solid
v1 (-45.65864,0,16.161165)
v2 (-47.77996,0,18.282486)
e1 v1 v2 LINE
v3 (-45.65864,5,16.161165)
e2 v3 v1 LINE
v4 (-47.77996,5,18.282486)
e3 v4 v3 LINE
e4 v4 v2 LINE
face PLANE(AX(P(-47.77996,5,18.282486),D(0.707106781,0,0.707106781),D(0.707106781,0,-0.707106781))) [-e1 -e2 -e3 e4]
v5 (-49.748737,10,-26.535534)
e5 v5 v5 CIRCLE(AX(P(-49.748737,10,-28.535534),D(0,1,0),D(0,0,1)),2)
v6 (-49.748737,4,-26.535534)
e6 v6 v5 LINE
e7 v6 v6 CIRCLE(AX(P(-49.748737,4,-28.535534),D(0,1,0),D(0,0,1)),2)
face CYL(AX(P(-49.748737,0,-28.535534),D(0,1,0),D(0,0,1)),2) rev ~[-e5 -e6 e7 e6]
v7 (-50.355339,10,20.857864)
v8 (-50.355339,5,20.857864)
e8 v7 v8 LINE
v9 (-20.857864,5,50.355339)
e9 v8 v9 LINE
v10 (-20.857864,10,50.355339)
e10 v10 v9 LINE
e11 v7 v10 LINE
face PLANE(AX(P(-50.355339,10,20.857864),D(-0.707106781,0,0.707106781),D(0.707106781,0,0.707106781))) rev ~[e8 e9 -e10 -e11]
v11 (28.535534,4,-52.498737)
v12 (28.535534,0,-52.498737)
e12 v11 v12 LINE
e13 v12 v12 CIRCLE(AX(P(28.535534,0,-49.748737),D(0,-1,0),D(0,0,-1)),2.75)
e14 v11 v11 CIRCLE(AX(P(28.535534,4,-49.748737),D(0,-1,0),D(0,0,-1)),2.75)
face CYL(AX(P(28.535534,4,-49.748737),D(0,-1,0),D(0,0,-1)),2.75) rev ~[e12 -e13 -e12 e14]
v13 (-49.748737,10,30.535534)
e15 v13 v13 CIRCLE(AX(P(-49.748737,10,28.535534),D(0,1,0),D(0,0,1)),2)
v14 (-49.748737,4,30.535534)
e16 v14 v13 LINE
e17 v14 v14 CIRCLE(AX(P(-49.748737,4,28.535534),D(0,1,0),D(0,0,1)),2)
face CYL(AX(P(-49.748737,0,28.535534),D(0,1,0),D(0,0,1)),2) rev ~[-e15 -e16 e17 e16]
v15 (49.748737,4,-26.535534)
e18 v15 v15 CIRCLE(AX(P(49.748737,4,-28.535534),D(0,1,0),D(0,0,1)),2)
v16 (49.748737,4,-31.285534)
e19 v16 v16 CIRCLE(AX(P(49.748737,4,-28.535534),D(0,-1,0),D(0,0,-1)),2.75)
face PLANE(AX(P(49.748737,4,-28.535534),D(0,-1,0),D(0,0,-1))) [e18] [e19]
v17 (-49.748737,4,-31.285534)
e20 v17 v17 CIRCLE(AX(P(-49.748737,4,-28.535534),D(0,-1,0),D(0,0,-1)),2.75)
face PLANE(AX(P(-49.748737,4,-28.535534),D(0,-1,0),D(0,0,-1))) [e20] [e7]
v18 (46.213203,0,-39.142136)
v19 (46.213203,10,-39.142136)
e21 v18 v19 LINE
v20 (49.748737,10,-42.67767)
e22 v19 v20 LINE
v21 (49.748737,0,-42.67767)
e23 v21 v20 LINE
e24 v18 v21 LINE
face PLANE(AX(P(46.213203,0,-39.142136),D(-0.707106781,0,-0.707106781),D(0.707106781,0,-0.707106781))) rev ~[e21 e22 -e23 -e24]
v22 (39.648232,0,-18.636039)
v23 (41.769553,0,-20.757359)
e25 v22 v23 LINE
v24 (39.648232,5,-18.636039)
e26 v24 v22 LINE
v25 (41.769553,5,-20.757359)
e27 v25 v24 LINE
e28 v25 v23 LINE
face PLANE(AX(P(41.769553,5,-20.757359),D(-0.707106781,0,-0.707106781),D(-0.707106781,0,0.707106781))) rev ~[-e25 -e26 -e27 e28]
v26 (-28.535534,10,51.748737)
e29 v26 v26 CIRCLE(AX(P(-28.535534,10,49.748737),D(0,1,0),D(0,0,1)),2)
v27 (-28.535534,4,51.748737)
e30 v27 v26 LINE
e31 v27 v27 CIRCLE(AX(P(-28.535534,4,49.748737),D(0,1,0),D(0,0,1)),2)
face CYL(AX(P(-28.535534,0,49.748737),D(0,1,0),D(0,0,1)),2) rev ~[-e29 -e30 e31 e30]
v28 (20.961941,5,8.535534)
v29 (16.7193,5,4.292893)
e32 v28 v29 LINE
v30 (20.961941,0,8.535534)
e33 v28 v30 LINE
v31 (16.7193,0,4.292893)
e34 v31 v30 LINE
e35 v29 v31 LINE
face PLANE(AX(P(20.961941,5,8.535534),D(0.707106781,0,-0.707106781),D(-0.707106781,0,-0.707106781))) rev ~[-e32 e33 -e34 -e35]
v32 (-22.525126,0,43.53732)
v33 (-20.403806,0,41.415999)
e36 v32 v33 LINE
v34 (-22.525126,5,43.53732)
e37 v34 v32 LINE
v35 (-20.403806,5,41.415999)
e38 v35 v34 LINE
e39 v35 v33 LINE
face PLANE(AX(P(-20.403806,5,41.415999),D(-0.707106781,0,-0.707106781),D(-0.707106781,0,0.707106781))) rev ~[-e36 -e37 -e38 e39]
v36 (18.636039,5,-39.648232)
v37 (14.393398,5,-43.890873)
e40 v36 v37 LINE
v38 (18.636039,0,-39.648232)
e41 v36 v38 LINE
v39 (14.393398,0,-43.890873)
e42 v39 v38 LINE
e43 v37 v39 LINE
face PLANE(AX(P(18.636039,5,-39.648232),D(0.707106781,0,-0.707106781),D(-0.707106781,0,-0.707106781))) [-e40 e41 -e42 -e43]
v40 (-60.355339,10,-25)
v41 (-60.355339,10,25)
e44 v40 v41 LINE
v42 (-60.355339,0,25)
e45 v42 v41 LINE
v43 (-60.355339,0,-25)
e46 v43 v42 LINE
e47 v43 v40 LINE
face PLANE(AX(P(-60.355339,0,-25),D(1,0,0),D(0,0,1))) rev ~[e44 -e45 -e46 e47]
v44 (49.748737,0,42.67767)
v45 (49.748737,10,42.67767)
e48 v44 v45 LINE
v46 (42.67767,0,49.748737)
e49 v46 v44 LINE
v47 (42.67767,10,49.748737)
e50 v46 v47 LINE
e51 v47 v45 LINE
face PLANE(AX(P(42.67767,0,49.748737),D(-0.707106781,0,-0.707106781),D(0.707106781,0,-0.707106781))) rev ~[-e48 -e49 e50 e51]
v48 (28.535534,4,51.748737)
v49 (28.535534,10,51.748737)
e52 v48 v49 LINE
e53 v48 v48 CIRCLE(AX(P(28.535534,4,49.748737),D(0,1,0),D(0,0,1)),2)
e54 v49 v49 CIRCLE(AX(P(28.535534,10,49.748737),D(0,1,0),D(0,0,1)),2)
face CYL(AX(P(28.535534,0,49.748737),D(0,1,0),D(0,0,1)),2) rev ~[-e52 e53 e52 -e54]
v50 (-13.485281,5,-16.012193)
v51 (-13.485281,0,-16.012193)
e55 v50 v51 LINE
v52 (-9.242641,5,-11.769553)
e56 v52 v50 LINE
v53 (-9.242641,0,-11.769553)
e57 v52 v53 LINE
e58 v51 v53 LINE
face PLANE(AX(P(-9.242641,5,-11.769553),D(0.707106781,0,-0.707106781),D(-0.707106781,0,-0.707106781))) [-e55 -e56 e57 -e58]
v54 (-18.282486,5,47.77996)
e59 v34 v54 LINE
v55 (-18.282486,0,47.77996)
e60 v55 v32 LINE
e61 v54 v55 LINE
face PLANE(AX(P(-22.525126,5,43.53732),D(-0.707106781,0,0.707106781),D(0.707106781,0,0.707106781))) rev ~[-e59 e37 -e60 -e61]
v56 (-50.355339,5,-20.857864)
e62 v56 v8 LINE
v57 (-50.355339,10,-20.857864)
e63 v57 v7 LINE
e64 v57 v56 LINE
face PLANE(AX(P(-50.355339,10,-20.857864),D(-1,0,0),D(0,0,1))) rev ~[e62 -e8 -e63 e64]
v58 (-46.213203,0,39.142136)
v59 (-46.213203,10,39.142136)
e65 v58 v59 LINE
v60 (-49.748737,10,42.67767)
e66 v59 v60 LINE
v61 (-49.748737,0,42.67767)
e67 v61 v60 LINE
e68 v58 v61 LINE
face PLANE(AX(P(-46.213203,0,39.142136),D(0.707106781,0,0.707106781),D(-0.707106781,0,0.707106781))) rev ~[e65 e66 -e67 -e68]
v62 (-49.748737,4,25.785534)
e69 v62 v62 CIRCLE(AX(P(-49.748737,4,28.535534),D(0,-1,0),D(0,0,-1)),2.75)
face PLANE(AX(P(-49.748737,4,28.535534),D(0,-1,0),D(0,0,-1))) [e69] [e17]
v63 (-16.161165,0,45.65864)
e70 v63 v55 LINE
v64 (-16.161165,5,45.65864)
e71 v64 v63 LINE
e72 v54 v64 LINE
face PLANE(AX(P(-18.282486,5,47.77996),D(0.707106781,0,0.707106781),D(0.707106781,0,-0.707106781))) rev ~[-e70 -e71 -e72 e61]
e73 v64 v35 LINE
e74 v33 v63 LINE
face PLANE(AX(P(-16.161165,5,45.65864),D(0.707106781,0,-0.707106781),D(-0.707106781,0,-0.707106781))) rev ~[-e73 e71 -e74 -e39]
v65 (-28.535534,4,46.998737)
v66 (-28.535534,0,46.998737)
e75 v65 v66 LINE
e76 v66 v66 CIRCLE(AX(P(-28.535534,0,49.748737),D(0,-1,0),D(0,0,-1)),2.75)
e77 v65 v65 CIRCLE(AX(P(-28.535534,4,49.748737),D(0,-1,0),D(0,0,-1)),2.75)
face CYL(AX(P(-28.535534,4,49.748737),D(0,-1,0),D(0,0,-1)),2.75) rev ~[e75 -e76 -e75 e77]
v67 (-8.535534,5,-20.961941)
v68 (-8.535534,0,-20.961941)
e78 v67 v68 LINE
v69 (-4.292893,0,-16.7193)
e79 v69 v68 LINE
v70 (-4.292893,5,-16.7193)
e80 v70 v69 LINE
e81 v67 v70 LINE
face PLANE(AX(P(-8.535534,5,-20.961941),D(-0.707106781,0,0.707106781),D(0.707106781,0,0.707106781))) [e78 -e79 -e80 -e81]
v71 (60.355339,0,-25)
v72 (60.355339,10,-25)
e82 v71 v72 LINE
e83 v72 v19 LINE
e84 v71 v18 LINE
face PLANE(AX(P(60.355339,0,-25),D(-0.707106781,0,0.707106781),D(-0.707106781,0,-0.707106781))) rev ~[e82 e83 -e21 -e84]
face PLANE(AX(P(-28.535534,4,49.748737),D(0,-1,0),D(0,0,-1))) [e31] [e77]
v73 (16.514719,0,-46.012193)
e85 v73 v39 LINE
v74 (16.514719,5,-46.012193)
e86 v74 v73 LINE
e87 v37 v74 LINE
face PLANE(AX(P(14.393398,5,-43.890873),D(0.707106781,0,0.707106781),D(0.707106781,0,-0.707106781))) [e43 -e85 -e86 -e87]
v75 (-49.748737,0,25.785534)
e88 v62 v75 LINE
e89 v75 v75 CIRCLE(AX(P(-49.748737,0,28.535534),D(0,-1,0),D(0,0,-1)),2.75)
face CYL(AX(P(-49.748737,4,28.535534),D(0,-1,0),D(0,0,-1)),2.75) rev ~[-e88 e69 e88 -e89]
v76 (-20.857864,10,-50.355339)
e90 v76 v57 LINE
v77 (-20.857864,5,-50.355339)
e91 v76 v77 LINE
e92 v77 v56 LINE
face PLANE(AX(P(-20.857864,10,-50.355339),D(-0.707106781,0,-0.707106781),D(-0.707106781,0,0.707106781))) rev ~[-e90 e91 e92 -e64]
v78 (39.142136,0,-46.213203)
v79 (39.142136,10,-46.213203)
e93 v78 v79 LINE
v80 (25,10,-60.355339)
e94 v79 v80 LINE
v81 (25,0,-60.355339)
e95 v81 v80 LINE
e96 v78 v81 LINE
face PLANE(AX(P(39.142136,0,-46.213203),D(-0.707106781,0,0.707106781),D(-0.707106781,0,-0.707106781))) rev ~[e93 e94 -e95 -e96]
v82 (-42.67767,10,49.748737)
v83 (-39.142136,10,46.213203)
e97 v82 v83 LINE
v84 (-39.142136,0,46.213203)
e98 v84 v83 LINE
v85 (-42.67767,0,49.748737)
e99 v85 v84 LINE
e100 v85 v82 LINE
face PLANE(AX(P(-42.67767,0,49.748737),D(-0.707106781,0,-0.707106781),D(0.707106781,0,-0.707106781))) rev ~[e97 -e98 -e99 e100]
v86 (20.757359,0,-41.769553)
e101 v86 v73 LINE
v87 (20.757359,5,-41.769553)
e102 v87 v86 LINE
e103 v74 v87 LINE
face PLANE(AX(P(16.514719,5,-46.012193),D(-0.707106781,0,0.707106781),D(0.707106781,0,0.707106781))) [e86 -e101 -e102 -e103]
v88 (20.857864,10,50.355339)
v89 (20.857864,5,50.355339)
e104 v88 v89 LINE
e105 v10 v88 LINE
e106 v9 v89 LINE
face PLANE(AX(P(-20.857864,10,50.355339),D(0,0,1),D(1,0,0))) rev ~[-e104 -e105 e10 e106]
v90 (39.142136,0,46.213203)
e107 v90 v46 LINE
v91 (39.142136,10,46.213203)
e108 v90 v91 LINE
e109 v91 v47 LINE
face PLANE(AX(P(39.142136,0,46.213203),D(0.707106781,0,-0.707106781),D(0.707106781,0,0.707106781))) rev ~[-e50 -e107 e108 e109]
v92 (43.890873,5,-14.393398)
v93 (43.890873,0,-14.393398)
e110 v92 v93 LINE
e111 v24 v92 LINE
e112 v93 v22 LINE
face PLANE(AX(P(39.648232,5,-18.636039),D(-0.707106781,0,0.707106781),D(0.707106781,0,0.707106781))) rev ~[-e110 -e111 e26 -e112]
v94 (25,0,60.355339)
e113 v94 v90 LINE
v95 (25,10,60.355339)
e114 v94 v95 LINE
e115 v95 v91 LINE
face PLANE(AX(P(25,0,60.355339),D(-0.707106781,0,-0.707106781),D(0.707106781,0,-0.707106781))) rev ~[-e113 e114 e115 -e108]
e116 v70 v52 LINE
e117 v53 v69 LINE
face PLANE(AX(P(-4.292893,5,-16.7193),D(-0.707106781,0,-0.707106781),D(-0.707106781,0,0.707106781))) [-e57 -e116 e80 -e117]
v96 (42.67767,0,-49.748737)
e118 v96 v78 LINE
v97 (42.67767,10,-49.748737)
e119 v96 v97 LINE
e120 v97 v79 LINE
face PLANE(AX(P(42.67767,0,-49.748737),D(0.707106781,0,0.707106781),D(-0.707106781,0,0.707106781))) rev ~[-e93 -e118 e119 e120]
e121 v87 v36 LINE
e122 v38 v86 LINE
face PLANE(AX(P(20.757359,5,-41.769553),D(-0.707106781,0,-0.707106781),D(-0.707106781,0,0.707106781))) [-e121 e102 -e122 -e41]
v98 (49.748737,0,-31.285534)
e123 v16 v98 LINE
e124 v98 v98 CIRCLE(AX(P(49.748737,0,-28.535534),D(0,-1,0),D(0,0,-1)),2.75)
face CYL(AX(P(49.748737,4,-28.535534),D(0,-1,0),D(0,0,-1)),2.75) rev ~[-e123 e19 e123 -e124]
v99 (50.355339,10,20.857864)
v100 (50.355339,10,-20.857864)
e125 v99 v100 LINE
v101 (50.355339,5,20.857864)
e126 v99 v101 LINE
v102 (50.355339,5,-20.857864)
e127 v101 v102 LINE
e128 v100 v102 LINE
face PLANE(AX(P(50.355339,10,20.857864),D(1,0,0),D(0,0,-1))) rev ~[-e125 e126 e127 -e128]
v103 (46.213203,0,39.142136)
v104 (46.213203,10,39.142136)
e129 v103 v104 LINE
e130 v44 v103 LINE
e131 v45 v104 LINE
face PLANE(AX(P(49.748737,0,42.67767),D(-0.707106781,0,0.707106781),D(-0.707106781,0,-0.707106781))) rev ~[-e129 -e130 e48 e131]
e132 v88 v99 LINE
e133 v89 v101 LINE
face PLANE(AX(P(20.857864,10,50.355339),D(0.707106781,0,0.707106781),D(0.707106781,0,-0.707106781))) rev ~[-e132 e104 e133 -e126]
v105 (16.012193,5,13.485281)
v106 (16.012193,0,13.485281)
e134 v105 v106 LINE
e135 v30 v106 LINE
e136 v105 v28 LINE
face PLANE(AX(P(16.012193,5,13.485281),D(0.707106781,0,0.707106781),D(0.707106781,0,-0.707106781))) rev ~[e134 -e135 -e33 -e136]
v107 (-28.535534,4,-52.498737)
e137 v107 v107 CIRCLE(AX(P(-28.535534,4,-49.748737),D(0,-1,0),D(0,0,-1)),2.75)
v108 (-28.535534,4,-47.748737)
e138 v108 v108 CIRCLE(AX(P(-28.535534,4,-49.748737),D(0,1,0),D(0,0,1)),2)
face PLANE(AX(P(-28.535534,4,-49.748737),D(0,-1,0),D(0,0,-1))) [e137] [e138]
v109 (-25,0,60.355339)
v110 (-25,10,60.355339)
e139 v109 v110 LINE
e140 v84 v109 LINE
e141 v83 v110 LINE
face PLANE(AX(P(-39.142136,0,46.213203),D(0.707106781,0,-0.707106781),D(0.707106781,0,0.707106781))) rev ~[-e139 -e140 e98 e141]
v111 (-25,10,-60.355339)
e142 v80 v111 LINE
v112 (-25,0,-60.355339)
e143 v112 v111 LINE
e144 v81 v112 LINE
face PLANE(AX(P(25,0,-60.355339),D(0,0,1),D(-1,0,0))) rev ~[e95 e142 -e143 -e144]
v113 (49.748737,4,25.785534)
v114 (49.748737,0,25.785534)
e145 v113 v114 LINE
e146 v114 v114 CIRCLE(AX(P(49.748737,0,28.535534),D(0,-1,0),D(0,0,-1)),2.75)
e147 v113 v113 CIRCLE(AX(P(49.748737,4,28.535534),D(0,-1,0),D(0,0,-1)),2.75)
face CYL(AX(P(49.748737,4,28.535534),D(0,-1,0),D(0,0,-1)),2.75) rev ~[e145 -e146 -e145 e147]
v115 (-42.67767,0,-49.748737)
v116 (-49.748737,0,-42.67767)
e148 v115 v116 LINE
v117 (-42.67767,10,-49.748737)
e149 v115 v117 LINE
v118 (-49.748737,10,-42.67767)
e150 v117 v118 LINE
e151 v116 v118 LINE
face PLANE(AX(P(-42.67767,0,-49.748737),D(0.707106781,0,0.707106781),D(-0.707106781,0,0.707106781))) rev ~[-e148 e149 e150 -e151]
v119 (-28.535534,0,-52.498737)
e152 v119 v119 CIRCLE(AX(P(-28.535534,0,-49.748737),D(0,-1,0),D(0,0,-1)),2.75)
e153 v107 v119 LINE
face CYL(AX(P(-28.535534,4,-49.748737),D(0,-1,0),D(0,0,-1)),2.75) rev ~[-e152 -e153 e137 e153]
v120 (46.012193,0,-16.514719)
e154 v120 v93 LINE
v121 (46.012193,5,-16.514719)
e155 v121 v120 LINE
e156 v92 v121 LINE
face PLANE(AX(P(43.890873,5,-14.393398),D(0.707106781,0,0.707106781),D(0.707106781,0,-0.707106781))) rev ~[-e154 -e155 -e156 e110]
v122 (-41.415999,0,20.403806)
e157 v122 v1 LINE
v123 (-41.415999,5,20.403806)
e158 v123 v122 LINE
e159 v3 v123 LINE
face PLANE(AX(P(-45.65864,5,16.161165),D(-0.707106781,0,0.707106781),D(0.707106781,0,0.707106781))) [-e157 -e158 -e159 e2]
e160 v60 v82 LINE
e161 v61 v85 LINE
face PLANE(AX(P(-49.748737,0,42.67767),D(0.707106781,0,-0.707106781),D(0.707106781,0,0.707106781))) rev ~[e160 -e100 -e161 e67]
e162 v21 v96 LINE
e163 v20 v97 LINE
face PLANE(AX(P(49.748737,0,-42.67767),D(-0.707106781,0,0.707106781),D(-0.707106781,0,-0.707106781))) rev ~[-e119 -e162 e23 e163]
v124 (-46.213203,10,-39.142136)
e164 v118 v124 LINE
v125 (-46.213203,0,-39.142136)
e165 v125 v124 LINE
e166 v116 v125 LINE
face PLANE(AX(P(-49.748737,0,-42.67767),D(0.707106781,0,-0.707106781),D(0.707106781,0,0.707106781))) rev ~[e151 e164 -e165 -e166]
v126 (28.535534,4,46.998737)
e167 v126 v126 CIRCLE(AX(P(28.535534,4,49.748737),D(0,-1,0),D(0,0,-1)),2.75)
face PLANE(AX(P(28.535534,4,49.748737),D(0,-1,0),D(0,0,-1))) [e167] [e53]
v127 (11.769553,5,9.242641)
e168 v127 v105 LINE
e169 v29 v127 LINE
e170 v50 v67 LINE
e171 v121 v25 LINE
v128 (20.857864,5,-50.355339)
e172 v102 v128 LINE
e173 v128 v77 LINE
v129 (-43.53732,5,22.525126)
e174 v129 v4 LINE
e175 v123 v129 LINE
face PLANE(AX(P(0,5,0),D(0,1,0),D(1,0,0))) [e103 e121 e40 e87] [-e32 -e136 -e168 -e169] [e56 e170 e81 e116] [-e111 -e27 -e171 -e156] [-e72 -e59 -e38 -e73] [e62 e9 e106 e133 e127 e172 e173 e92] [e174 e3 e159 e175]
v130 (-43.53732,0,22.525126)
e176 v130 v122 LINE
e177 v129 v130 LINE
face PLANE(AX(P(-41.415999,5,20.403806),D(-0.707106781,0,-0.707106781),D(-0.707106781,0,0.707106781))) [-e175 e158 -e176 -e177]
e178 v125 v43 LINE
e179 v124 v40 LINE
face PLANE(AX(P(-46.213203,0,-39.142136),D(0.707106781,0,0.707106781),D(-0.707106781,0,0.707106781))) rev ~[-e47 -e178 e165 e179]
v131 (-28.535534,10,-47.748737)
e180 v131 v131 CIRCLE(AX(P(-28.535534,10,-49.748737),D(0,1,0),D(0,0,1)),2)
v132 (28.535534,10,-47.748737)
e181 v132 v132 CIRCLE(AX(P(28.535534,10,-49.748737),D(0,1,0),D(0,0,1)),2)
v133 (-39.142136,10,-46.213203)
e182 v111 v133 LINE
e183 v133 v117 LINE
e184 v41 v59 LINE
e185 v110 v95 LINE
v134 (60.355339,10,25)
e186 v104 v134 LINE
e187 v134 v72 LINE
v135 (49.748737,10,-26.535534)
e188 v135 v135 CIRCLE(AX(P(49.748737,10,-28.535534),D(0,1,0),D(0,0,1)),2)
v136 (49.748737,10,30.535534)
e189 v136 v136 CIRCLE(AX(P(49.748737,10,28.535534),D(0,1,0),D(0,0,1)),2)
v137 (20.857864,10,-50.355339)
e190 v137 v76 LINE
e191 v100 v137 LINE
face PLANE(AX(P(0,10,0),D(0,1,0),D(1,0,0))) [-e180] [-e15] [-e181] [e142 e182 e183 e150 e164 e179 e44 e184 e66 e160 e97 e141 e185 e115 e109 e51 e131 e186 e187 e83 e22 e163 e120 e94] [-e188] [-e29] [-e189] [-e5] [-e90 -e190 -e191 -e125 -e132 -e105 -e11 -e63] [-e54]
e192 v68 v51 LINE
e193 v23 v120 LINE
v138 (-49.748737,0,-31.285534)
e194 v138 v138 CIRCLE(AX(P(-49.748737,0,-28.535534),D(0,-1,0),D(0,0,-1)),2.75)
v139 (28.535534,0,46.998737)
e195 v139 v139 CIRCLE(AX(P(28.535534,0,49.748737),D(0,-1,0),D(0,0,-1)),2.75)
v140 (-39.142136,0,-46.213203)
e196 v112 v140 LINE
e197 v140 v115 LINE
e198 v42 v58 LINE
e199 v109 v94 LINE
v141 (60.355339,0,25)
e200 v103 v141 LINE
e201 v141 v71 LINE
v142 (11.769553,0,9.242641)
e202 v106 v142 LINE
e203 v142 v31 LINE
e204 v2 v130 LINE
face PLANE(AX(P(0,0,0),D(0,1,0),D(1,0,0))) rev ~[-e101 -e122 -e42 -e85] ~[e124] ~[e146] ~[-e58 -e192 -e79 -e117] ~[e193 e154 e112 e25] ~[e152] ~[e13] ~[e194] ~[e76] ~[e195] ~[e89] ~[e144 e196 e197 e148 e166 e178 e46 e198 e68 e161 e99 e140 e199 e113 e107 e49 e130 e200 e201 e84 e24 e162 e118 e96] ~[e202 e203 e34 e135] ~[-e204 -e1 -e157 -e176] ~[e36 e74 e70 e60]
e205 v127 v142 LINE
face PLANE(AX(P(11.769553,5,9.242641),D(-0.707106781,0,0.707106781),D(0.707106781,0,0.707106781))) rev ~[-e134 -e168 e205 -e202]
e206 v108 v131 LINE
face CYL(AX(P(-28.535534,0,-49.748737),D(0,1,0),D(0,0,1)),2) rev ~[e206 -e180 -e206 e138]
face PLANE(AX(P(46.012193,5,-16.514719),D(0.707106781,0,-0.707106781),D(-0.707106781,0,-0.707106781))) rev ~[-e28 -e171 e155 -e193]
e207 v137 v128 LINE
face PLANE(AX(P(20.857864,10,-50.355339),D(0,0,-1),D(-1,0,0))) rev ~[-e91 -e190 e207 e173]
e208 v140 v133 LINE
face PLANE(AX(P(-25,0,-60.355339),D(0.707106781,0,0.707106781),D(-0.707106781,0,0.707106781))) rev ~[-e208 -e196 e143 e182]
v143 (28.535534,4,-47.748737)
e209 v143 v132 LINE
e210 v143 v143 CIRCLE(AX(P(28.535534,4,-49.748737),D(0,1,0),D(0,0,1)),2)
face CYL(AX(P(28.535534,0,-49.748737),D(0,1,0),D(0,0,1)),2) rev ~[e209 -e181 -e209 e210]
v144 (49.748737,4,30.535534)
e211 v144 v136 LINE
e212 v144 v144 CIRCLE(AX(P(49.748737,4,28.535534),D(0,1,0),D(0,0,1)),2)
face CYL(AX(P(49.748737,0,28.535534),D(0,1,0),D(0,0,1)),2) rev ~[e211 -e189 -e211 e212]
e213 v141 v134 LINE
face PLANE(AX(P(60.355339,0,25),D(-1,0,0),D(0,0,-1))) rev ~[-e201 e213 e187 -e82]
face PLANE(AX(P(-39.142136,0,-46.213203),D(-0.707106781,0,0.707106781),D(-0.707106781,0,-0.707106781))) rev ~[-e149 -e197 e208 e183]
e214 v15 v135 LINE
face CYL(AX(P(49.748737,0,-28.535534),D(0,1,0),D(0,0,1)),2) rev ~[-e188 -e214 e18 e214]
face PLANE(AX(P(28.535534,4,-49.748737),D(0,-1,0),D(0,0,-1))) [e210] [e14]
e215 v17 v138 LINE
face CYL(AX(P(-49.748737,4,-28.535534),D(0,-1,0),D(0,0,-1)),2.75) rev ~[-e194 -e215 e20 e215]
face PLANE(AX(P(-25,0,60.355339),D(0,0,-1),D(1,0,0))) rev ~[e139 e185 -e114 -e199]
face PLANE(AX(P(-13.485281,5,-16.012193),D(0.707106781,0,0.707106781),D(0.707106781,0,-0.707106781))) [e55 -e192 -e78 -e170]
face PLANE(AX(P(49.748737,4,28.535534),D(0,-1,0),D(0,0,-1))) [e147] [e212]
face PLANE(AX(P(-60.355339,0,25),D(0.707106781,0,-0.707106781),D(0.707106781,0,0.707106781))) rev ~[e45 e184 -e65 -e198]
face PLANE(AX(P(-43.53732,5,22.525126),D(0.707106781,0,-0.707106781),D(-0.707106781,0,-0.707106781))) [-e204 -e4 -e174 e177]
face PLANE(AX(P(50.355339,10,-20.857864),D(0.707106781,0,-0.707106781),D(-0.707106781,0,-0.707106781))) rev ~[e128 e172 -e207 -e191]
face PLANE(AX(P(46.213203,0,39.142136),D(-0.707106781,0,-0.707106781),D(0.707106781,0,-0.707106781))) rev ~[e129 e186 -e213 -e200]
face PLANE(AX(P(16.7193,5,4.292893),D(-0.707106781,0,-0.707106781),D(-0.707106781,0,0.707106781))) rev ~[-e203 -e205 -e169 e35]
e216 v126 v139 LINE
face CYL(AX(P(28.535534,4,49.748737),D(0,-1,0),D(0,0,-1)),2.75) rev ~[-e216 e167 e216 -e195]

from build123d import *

# Parameters (mm, degrees)
BOSS_EXTRU_2_DEPTH                                   = 10
CHAMBRAGE_POUR_T_TE_CYLINDRIQUE_FENDUE_M_D           = 4
CHAMBRAGE_POUR_T_TE_CYLINDRIQUE_FENDUE_M_CBORE_D     = 5.5
CHAMBRAGE_POUR_T_TE_CYLINDRIQUE_FENDUE_M_CBORE_DEPTH = 4
ENL_V_MAT_EXTRU_1_DEPTH                              = 5
ENL_V_MAT_EXTRU_2_REACH                              = 87.502


with BuildPart() as part:
    # Esquisse1 → Boss.-Extru.2 (new body)
    with BuildSketch(Plane(origin=(0, 0, 0), x_dir=(1, 0, 0), z_dir=(0, 1, 0))):
        Polygon((60.355339059, 25), (25, 60.355339059), (-25, 60.355339059), (-60.355339059, 25), (-60.355339059, -25), (-25, -60.355339059), (25, -60.355339059), (60.355339059, -25), align=None)
        Polygon((39.142135624, 46.213203436), (46.213203436, 39.142135624), (49.748737342, 42.67766953), (42.67766953, 49.748737342), align=None)
        Polygon((49.748737342, -42.67766953), (46.213203436, -39.142135624), (39.142135624, -46.213203436), (42.67766953, -49.748737342), align=None)
        Polygon((-42.67766953, -49.748737342), (-39.142135624, -46.213203436), (-46.213203436, -39.142135624), (-49.748737342, -42.67766953), align=None)
        Polygon((-46.213203436, 39.142135624), (-39.142135624, 46.213203436), (-42.67766953, 49.748737342), (-49.748737342, 42.67766953), align=None)
    extrude(amount=BOSS_EXTRU_2_DEPTH)

    # Chambrage pour tête cylindrique fendue M31 (through all)
    with Locations(Plane(origin=(-49.748737342, 0, -28.535533906), x_dir=(0, 0, -1), z_dir=(0, -1, 0))):
        with Locations((0, 0), (21.213203436, 21.213203436), (21.213203436, 78.284271248), (0, 99.497474684), (-78.284271248, 78.284271248), (-57.071067812, 99.497474684), (-78.284271248, 21.213203436), (-57.071067812, 0)):
            CounterBoreHole(CHAMBRAGE_POUR_T_TE_CYLINDRIQUE_FENDUE_M_D / 2, CHAMBRAGE_POUR_T_TE_CYLINDRIQUE_FENDUE_M_CBORE_D / 2, CHAMBRAGE_POUR_T_TE_CYLINDRIQUE_FENDUE_M_CBORE_DEPTH)

    # Esquisse6 → Enlèv. mat.-Extru.1 (cut)
    with BuildSketch(Plane(origin=(0, 10, 0), x_dir=(1, 0, 0), z_dir=(0, 1, 0))):
        Polygon((20.857864376, 50.355339059), (-20.857864376, 50.355339059), (-50.355339059, 20.857864376), (-50.355339059, -20.857864376), (-20.857864376, -50.355339059), (20.857864376, -50.355339059), (50.355339059, -20.857864376), (50.355339059, 20.857864376), align=None)
    extrude(amount=-ENL_V_MAT_EXTRU_1_DEPTH, mode=Mode.SUBTRACT)

    # Esquisse7 → Enlèv. mat.-Extru.2 (cut, up to next)
    with BuildSketch(Plane(origin=(0, 5, 0), x_dir=(1, 0, 0), z_dir=(0, 1, 0)), mode=Mode.PRIVATE) as enl_v_mat_extru_2_sk1:
        Polygon((-47.779960262, -18.282485579), (-45.658639918, -16.161165235), (-41.415999231, -20.403805922), (-43.537319575, -22.525126266), align=None)
    enl_v_mat_extru_2_tool1 = extrude(enl_v_mat_extru_2_sk1.sketch, amount=-ENL_V_MAT_EXTRU_2_REACH, mode=Mode.PRIVATE) & part.part
    # Esquisse7 → Enlèv. mat.-Extru.2 (cut, up to next)
    with BuildSketch(Plane(origin=(0, 5, 0), x_dir=(1, 0, 0), z_dir=(0, 1, 0)), mode=Mode.PRIVATE) as enl_v_mat_extru_2_sk2:
        Polygon((-13.485281374, 16.012193309), (-8.535533906, 20.961940777), (-4.292893219, 16.71930009), (-9.242640687, 11.769552622), align=None)
    enl_v_mat_extru_2_tool2 = extrude(enl_v_mat_extru_2_sk2.sketch, amount=-ENL_V_MAT_EXTRU_2_REACH, mode=Mode.PRIVATE) & part.part
    # Esquisse7 → Enlèv. mat.-Extru.2 (cut, up to next)
    with BuildSketch(Plane(origin=(0, 5, 0), x_dir=(1, 0, 0), z_dir=(0, 1, 0)), mode=Mode.PRIVATE) as enl_v_mat_extru_2_sk3:
        Polygon((14.393398282, 43.890872965), (16.514718626, 46.012193309), (20.757359313, 41.769552622), (18.636038969, 39.648232278), align=None)
    enl_v_mat_extru_2_tool3 = extrude(enl_v_mat_extru_2_sk3.sketch, amount=-ENL_V_MAT_EXTRU_2_REACH, mode=Mode.PRIVATE) & part.part
    # Esquisse7 → Enlèv. mat.-Extru.2 (cut, up to next)
    with BuildSketch(Plane(origin=(0, 5, 0), x_dir=(1, 0, 0), z_dir=(0, 1, 0)), mode=Mode.PRIVATE) as enl_v_mat_extru_2_sk4:
        Polygon((-20.403805922, -41.415999231), (-22.525126266, -43.537319575), (-18.282485579, -47.779960262), (-16.161165235, -45.658639918), align=None)
    enl_v_mat_extru_2_tool4 = extrude(enl_v_mat_extru_2_sk4.sketch, amount=-ENL_V_MAT_EXTRU_2_REACH, mode=Mode.PRIVATE) & part.part
    # Esquisse7 → Enlèv. mat.-Extru.2 (cut, up to next)
    with BuildSketch(Plane(origin=(0, 5, 0), x_dir=(1, 0, 0), z_dir=(0, 1, 0)), mode=Mode.PRIVATE) as enl_v_mat_extru_2_sk5:
        Polygon((39.648232278, 18.636038969), (43.890872965, 14.393398282), (46.012193309, 16.514718626), (41.769552622, 20.757359313), align=None)
    enl_v_mat_extru_2_tool5 = extrude(enl_v_mat_extru_2_sk5.sketch, amount=-ENL_V_MAT_EXTRU_2_REACH, mode=Mode.PRIVATE) & part.part
    # Esquisse7 → Enlèv. mat.-Extru.2 (cut, up to next)
    with BuildSketch(Plane(origin=(0, 5, 0), x_dir=(1, 0, 0), z_dir=(0, 1, 0)), mode=Mode.PRIVATE) as enl_v_mat_extru_2_sk6:
        Polygon((16.71930009, -4.292893219), (11.769552622, -9.242640687), (16.012193309, -13.485281374), (20.961940777, -8.535533906), align=None)
    enl_v_mat_extru_2_tool6 = extrude(enl_v_mat_extru_2_sk6.sketch, amount=-ENL_V_MAT_EXTRU_2_REACH, mode=Mode.PRIVATE) & part.part
    add(enl_v_mat_extru_2_tool1.solids().sort_by_distance((-44.59798, 5, 19.343146))[0], mode=Mode.SUBTRACT)
    add(enl_v_mat_extru_2_tool2.solids().sort_by_distance((-8.889087, 5, -16.365747))[0], mode=Mode.SUBTRACT)
    add(enl_v_mat_extru_2_tool3.solids().sort_by_distance((17.575379, 5, -42.830213))[0], mode=Mode.SUBTRACT)
    add(enl_v_mat_extru_2_tool4.solids().sort_by_distance((-19.343146, 5, 44.59798))[0], mode=Mode.SUBTRACT)
    add(enl_v_mat_extru_2_tool5.solids().sort_by_distance((42.830213, 5, -17.575379))[0], mode=Mode.SUBTRACT)
    add(enl_v_mat_extru_2_tool6.solids().sort_by_distance((16.365747, 5, 8.889087))[0], mode=Mode.SUBTRACT)


solid = part.part
